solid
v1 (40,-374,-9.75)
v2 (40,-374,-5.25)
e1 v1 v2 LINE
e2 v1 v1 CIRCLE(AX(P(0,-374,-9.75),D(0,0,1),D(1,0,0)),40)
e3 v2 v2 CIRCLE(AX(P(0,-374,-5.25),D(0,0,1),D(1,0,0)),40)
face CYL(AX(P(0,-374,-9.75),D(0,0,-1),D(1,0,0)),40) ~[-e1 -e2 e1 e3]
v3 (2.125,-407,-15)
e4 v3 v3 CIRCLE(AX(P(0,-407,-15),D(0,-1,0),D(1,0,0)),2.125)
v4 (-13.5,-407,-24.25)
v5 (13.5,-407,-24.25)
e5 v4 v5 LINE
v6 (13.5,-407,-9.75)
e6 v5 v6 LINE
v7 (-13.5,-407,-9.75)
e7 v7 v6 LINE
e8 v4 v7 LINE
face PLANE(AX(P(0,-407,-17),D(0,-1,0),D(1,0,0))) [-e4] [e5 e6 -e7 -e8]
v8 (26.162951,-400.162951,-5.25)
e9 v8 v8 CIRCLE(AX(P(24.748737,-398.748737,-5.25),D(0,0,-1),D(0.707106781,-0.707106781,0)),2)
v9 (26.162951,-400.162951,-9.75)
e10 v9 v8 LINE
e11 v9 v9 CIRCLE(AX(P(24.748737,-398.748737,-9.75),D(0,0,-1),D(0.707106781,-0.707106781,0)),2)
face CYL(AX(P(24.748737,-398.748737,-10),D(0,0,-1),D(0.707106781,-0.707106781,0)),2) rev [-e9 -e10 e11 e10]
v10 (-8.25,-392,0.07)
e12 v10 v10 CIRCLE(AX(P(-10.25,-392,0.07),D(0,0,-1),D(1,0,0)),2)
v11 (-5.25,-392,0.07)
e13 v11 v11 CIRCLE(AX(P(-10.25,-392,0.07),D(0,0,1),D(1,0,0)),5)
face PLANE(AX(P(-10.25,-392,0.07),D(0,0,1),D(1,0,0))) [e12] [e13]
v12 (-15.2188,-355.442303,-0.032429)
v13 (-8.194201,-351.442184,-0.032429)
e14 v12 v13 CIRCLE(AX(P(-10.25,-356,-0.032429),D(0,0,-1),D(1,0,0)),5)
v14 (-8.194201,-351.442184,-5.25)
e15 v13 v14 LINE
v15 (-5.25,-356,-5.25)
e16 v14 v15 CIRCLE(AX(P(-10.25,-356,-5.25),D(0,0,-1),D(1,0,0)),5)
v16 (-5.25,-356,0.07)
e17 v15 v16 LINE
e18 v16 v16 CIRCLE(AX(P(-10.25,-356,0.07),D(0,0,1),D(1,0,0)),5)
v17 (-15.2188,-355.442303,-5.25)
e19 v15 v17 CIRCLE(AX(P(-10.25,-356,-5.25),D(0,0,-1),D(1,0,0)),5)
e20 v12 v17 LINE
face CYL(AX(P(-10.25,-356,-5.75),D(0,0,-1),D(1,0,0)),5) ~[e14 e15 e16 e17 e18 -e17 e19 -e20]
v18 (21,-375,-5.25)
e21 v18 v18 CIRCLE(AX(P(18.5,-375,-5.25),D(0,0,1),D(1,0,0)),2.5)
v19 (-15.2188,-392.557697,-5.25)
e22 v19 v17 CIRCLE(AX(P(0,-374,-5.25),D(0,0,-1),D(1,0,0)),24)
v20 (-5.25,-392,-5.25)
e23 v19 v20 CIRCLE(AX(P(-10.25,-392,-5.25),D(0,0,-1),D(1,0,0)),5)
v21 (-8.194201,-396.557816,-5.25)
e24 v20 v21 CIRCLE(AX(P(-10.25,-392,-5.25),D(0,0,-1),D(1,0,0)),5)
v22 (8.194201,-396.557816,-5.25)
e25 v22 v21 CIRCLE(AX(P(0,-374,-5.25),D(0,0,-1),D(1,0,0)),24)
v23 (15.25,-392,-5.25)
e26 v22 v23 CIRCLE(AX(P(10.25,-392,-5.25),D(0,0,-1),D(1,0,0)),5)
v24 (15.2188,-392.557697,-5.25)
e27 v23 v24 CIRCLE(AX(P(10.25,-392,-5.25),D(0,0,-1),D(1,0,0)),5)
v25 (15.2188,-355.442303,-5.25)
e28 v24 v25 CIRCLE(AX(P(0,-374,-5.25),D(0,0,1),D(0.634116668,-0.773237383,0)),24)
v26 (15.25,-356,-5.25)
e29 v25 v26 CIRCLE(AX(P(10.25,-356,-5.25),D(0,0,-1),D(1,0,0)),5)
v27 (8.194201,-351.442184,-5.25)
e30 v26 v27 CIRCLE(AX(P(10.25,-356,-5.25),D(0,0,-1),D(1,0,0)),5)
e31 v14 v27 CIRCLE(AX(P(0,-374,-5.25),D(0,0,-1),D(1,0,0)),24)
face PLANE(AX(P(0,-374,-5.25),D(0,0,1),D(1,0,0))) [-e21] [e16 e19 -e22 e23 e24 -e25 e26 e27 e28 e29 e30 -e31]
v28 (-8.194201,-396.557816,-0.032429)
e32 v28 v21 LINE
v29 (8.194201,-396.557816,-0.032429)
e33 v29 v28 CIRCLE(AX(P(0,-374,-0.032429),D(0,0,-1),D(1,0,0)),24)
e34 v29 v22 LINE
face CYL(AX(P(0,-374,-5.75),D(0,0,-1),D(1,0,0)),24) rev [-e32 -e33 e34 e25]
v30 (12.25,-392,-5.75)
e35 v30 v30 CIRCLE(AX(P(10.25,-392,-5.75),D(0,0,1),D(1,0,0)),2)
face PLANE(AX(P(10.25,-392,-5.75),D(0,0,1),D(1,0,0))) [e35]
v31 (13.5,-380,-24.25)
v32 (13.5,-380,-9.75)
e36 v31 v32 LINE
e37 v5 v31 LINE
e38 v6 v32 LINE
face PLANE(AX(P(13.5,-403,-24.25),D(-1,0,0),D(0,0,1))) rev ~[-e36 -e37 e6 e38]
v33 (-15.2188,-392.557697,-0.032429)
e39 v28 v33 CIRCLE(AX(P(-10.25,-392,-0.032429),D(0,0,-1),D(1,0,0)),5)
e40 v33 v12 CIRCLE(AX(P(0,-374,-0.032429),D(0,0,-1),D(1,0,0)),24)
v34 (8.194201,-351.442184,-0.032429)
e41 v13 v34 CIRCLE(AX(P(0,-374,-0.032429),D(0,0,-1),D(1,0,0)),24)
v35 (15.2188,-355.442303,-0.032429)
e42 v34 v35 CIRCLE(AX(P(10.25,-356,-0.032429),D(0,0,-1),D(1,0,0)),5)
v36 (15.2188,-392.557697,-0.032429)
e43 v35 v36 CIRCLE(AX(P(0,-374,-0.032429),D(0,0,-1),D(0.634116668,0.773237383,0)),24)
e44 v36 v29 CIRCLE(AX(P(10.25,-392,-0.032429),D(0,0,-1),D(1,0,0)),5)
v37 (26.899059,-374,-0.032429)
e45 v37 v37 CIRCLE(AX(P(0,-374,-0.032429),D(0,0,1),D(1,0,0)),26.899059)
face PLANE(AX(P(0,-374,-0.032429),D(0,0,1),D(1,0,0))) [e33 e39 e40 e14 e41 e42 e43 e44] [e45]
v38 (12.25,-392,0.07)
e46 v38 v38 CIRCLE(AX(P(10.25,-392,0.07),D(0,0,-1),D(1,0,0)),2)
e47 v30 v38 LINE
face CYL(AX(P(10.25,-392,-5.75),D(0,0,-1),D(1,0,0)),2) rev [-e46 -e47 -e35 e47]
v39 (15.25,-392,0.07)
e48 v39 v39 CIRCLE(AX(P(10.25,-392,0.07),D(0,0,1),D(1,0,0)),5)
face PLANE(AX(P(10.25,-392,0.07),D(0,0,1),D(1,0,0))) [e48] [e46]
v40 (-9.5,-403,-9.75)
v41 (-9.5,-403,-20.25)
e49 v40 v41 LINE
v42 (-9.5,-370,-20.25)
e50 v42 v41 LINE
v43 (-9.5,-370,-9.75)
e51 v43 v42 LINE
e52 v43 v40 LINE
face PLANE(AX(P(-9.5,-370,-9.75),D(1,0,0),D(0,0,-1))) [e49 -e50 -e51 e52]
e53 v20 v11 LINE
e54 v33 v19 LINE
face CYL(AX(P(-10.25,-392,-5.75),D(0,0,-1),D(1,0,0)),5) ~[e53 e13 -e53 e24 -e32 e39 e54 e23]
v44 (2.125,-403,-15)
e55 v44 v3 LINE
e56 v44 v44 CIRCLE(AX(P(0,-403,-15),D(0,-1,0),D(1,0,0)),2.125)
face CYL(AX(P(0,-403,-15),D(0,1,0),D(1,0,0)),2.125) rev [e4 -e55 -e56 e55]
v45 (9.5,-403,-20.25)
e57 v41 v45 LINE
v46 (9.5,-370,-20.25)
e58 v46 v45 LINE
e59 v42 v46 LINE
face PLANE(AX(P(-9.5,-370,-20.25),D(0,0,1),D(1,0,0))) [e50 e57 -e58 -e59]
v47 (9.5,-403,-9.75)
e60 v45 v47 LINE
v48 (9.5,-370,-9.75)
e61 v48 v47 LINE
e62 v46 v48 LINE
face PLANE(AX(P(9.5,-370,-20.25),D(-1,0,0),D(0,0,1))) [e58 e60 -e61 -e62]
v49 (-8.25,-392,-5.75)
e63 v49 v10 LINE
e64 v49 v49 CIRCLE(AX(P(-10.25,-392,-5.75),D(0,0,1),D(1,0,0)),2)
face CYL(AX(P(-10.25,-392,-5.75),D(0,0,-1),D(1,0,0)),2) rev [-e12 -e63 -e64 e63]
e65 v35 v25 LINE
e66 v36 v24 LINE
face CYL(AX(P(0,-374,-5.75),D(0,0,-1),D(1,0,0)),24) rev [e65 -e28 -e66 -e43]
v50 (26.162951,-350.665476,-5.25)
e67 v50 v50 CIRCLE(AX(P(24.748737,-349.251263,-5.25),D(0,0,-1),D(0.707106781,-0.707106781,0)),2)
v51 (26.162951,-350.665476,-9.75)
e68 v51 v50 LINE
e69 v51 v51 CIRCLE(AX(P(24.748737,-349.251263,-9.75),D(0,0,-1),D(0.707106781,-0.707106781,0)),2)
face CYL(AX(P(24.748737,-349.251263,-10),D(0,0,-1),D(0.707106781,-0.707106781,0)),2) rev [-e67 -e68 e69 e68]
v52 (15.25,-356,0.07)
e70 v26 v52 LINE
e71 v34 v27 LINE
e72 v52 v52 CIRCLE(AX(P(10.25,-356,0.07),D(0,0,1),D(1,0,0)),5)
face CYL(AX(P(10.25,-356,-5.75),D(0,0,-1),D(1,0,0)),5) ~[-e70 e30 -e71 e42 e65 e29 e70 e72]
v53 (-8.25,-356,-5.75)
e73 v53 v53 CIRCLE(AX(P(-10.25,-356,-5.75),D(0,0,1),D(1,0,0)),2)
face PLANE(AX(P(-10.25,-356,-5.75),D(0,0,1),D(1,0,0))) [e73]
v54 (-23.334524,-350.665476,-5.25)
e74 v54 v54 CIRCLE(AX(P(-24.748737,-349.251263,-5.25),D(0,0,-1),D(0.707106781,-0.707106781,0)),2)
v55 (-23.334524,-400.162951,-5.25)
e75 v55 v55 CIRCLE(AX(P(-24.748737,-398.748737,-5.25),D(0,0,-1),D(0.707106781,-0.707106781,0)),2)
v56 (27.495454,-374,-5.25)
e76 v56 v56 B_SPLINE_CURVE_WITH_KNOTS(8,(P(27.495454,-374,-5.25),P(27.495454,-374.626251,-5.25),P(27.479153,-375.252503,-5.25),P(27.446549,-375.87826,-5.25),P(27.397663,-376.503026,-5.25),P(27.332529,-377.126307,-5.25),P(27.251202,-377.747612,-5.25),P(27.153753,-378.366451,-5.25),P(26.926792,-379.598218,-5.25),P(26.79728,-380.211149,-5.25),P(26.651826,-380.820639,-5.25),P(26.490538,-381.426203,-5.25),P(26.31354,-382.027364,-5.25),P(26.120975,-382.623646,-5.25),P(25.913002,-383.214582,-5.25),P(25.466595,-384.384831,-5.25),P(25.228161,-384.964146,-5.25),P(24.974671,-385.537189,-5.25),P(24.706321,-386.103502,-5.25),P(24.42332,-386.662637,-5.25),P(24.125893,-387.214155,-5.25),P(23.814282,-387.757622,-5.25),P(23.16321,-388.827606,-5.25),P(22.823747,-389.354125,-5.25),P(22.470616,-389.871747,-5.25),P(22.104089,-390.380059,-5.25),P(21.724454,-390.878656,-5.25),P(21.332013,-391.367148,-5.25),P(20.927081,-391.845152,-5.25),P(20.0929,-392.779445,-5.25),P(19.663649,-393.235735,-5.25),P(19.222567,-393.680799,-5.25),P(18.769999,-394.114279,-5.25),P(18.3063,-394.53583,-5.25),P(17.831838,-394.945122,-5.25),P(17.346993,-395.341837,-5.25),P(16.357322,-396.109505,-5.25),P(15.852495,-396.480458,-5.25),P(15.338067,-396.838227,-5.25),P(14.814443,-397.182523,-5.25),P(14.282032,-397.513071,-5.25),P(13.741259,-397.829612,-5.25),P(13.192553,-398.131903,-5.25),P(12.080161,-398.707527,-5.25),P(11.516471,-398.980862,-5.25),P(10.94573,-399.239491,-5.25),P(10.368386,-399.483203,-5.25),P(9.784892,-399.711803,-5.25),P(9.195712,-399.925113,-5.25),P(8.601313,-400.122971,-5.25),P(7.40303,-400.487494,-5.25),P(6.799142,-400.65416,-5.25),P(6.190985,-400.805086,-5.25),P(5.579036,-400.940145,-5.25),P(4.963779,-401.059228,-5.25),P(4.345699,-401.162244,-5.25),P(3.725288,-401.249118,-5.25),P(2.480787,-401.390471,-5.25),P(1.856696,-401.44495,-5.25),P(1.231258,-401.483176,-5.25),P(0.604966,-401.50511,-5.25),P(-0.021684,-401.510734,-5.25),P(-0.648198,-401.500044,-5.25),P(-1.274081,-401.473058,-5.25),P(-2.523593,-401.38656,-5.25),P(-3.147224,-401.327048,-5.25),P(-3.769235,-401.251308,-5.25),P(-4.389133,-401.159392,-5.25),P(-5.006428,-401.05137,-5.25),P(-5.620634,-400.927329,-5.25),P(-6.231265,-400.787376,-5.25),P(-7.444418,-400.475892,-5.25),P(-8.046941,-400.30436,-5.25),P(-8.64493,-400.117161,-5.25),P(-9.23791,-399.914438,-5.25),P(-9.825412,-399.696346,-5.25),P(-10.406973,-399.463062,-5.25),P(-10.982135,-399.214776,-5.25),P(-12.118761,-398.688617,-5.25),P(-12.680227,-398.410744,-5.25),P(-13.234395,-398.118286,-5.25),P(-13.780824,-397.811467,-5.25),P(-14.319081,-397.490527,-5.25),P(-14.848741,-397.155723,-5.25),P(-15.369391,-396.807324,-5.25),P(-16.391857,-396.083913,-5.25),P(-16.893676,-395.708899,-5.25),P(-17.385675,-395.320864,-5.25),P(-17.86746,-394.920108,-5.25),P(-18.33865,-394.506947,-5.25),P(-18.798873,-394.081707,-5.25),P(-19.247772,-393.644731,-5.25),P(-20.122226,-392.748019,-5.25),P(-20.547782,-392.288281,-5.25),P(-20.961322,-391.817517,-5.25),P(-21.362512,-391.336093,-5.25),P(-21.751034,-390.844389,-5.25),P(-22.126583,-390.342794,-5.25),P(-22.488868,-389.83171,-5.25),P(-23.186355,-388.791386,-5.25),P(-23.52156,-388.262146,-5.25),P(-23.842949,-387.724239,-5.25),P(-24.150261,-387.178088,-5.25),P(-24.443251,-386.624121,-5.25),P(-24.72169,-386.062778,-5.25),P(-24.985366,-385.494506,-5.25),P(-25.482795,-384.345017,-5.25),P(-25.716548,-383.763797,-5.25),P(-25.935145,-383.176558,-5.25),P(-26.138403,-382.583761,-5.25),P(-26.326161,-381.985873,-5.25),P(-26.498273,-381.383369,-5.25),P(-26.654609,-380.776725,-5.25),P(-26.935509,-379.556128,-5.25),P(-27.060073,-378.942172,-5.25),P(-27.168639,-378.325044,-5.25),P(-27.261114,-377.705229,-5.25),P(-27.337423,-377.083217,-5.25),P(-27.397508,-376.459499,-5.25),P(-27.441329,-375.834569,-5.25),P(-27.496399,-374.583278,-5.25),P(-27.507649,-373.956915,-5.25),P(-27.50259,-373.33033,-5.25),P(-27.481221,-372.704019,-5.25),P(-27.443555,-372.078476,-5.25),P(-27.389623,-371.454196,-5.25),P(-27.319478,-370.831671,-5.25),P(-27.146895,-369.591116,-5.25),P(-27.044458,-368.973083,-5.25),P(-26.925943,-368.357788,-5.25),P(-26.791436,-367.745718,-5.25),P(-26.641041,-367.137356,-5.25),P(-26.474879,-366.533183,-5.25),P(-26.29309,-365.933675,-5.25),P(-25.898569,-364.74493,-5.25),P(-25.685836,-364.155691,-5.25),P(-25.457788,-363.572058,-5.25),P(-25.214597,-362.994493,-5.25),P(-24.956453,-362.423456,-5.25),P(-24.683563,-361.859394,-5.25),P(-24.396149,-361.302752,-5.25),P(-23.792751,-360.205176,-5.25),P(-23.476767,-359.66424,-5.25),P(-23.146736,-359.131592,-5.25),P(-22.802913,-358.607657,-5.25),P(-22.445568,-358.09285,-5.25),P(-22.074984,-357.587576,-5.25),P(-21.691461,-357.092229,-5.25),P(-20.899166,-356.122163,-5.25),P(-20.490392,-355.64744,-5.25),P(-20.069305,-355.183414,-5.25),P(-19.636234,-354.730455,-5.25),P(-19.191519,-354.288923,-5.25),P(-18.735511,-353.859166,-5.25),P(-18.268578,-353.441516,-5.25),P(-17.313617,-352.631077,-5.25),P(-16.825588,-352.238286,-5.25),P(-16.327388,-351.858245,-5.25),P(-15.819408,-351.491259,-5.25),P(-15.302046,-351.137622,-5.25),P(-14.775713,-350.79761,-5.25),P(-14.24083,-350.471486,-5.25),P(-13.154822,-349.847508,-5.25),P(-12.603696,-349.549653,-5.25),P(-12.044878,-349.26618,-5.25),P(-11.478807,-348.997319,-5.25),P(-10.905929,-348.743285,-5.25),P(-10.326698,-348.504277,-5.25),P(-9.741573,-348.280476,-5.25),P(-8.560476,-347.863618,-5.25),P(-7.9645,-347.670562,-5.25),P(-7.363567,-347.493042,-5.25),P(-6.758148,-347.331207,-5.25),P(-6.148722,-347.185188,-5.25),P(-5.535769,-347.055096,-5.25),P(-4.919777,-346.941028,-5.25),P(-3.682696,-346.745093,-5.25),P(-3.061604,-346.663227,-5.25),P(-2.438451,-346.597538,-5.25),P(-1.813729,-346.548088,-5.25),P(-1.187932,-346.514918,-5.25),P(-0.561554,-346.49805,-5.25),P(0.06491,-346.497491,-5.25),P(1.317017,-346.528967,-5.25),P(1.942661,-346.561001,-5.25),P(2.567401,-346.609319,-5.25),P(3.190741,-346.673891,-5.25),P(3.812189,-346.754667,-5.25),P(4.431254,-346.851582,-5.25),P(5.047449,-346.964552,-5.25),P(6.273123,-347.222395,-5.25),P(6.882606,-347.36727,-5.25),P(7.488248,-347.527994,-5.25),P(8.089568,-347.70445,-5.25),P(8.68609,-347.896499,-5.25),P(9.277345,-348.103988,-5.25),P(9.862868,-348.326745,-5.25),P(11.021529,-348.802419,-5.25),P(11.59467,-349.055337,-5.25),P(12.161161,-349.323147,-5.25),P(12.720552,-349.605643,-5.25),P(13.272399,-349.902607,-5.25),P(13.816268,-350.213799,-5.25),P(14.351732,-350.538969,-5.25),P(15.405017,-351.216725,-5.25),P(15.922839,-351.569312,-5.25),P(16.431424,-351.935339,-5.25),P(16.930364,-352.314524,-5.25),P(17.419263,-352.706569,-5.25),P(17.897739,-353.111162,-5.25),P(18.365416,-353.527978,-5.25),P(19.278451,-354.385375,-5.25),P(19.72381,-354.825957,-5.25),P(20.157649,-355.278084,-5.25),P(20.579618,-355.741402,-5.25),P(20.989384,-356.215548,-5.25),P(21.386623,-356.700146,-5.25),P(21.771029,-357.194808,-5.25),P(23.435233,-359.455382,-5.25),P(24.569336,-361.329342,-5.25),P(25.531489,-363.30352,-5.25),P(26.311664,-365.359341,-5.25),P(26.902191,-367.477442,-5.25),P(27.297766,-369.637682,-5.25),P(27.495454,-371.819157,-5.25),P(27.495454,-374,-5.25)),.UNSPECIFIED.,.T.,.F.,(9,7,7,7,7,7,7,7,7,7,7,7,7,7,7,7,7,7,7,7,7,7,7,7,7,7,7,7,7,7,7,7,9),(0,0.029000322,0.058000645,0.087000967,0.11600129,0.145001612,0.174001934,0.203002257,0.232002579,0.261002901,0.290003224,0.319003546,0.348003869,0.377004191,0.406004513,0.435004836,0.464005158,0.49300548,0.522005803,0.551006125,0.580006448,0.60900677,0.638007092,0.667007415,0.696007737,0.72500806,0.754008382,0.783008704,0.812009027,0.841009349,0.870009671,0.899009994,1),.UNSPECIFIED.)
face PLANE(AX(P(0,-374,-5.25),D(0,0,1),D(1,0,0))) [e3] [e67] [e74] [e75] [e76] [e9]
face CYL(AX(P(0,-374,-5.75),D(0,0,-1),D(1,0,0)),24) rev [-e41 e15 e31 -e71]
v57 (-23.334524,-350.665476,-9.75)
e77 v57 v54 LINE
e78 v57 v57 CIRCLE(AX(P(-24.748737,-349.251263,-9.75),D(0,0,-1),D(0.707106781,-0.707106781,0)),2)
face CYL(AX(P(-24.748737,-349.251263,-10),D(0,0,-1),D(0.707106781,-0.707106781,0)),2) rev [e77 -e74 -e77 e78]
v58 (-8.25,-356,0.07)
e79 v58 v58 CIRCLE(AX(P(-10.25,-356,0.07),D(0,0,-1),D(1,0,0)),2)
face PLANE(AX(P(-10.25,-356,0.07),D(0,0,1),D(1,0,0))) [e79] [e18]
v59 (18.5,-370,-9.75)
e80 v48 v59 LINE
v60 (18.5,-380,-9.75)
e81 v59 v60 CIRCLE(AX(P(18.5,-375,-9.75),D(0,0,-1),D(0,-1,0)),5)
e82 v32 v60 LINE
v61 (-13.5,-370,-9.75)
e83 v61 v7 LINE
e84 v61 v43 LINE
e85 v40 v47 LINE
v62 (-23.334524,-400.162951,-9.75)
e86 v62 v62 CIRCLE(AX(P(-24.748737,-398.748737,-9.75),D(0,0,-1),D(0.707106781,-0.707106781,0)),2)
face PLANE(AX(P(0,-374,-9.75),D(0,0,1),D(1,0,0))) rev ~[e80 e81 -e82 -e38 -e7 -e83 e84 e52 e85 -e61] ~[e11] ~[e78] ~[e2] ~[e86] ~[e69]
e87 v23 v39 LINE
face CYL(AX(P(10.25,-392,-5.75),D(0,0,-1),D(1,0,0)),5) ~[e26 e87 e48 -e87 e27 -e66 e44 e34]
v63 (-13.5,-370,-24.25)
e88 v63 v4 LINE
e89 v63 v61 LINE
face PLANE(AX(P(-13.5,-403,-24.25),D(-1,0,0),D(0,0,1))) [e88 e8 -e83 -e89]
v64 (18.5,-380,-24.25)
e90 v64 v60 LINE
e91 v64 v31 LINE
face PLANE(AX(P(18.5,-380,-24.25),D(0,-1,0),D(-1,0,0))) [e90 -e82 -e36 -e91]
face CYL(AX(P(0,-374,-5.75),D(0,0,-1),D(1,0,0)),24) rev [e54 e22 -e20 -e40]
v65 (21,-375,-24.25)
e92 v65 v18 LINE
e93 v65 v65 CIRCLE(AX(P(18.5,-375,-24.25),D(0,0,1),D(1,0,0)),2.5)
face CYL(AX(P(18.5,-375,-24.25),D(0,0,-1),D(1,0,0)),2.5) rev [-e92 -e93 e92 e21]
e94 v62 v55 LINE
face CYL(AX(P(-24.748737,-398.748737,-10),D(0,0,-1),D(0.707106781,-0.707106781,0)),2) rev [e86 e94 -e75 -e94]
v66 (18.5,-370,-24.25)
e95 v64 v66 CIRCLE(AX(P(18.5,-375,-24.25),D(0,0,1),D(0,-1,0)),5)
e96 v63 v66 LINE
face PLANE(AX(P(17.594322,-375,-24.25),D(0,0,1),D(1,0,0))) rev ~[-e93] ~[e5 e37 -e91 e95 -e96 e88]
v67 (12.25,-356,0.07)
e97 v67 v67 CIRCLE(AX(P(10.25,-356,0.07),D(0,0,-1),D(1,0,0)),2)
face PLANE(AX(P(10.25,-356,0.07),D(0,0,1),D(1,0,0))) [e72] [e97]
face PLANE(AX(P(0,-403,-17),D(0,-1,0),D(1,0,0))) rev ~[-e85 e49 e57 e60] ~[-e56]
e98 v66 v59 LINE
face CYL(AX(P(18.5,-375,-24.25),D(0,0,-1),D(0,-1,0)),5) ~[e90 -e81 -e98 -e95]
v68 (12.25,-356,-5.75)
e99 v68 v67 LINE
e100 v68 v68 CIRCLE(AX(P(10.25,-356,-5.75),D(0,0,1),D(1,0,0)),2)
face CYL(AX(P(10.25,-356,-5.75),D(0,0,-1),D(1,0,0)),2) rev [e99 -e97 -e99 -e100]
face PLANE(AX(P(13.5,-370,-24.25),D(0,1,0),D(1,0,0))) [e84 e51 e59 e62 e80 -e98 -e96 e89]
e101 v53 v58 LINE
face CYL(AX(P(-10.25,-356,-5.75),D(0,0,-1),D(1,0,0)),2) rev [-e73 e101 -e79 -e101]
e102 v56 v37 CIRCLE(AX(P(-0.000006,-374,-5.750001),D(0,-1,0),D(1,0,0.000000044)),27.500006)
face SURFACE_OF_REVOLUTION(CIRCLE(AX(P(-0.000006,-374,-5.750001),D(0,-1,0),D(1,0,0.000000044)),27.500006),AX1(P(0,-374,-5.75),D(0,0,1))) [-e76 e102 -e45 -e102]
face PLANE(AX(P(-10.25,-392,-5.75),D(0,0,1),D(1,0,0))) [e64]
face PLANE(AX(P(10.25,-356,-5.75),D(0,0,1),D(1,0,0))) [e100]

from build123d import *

# Parameters (mm, degrees)
SKETCH142_R               = 2.5
EXTRUDE046_DEPTH          = 19
EXTRUDE047_DEPTH          = 19
CYLINDER185_R             = 2
CYLINDER185_DEPTH         = 10
CYLINDER186_R             = 2
CYLINDER186_DEPTH         = 10
CYLINDER187_R             = 2
CYLINDER187_DEPTH         = 10
CYLINDER184_R             = 2
CYLINDER184_DEPTH         = 10
FUSION121_PLACEMENT_ANGLE = 45
CYLINDER180_R             = 2
CYLINDER180_DEPTH         = 10
CYLINDER181_R             = 2
CYLINDER181_DEPTH         = 10
CYLINDER182_R             = 2
CYLINDER182_DEPTH         = 10
CYLINDER183_R             = 2
CYLINDER183_DEPTH         = 10
CYLINDER170_R             = 2
CYLINDER170_DEPTH         = 10
CYLINDER171_R             = 2
CYLINDER171_DEPTH         = 10
CYLINDER172_R             = 2
CYLINDER172_DEPTH         = 10
CYLINDER169_R             = 2
CYLINDER169_DEPTH         = 10
FUSION111_PLACEMENT_ANGLE = 45
CYLINDER176_R             = 5
CYLINDER176_DEPTH         = 5.82
CYLINDER177_R             = 5
CYLINDER177_DEPTH         = 5.82
CYLINDER178_R             = 5
CYLINDER178_DEPTH         = 5.82
CYLINDER179_R             = 5
CYLINDER179_DEPTH         = 5.82
CYLINDER173_R             = 40
CYLINDER173_DEPTH         = 4.5
CYLINDER174_R             = 24
CYLINDER174_DEPTH         = 7
EXTRUDE044_DEPTH          = 33
SKETCH141_W               = 27
SKETCH141_H               = 14.5
SKETCH141_R               = 2.125
EXTRUDE045_DEPTH          = 4


with BuildPart() as lightwire:
    # Sketch142 → Extrude046 (new body)
    with BuildSketch(Plane.XY.offset(-24.25)):
        with Locations((18.5, -375)):
            Circle(SKETCH142_R)
    extrude(amount=EXTRUDE046_DEPTH)


with BuildPart() as extrude047:
    # Sketch143 → Extrude047 (new body)
    with BuildSketch(Plane.XY.offset(-24.25)):
        with BuildLine():
            ThreePointArc((18.5, -380), (23.5, -375), (18.5, -370))
            Line((13.5, -370), (18.5, -370))
            Line((13.5, -380), (13.5, -370))
            Line((18.5, -380), (13.5, -380))
        make_face()
    extrude(amount=EXTRUDE047_DEPTH)


with BuildPart() as m2heatsetinsets025:
    # Cylinder185 → Cylinder185 (new body)
    with BuildSketch(Plane(origin=(35, 0, 65), x_dir=(1, 0, 0), z_dir=(0, 0, 1))):
        Circle(CYLINDER185_R)
    extrude(amount=CYLINDER185_DEPTH)


with BuildPart() as m2heatsetinsets026:
    # Cylinder186 → Cylinder186 (new body)
    with BuildSketch(Plane(origin=(0, 35, 65), x_dir=(1, 0, 0), z_dir=(0, 0, 1))):
        Circle(CYLINDER186_R)
    extrude(amount=CYLINDER186_DEPTH)


with BuildPart() as m2heatsetinsets027:
    # Cylinder187 → Cylinder187 (new body)
    with BuildSketch(Plane(origin=(0, -35, 65), x_dir=(1, 0, 0), z_dir=(0, 0, 1))):
        Circle(CYLINDER187_R)
    extrude(amount=CYLINDER187_DEPTH)


with BuildPart() as fusion121:
    # Cylinder184 → Cylinder184 (new body)
    with BuildSketch(Plane(origin=(-35, 0, 65), x_dir=(1, 0, 0), z_dir=(0, 0, 1))):
        Circle(CYLINDER184_R)
    extrude(amount=CYLINDER184_DEPTH)

    # Fusion121: union m2HeatSetInsets025, m2HeatSetInsets026, m2HeatSetInsets027
    add(m2heatsetinsets025.part)
    add(m2heatsetinsets026.part)
    add(m2heatsetinsets027.part)


with BuildPart() as fusion121_1:
    # Fusion121 placement: moved
    add(fusion121.part.moved(Location((0, -374, -75))).rotate(Axis((0, -374, -75), (0, 0, -1)), FUSION121_PLACEMENT_ANGLE))


with BuildPart() as cylinder180:
    # Cylinder180 → Cylinder180 (new body)
    with BuildSketch(Plane(origin=(0, -21, 0), x_dir=(1, 0, 0), z_dir=(0, 0, 1))):
        Circle(CYLINDER180_R)
    extrude(amount=CYLINDER180_DEPTH)


with BuildPart() as m3heatsetcuts031:
    # Cylinder181 → Cylinder181 (new body)
    with BuildSketch(Plane(origin=(20.5, -21, 0), x_dir=(1, 0, 0), z_dir=(0, 0, 1))):
        Circle(CYLINDER181_R)
    extrude(amount=CYLINDER181_DEPTH)

    # Fusion118: union Cylinder180
    add(cylinder180.part)


with BuildPart() as m3heatsetcuts031_1:
    # Fusion118 placement: moved
    add(m3heatsetcuts031.part.moved(Location((-5, 39, 70))))


with BuildPart() as cylinder182:
    # Cylinder182 → Cylinder182 (new body)
    with BuildSketch(Plane(origin=(0, -21, 0), x_dir=(1, 0, 0), z_dir=(0, 0, 1))):
        Circle(CYLINDER182_R)
    extrude(amount=CYLINDER182_DEPTH)


with BuildPart() as m3heatsetcuts030:
    # Cylinder183 → Cylinder183 (new body)
    with BuildSketch(Plane(origin=(20.5, -21, 0), x_dir=(1, 0, 0), z_dir=(0, 0, 1))):
        Circle(CYLINDER183_R)
    extrude(amount=CYLINDER183_DEPTH)

    # Fusion119: union Cylinder182
    add(cylinder182.part)


with BuildPart() as m3heatsetcuts030_1:
    # Fusion119 placement: moved
    add(m3heatsetcuts030.part.moved(Location((-5, 3, 70))))

    # Fusion117: union m3HeatSetCuts031
    add(m3heatsetcuts031_1.part)


with BuildPart() as m3heatsetcuts030_2:
    # Fusion117 placement: moved
    add(m3heatsetcuts030_1.part.moved(Location((128.75, 10, -1))))


with BuildPart() as m2heatsetinsets021:
    # Cylinder170 → Cylinder170 (new body)
    with BuildSketch(Plane(origin=(35, 0, 65), x_dir=(1, 0, 0), z_dir=(0, 0, 1))):
        Circle(CYLINDER170_R)
    extrude(amount=CYLINDER170_DEPTH)


with BuildPart() as m2heatsetinsets022:
    # Cylinder171 → Cylinder171 (new body)
    with BuildSketch(Plane(origin=(0, 35, 65), x_dir=(1, 0, 0), z_dir=(0, 0, 1))):
        Circle(CYLINDER171_R)
    extrude(amount=CYLINDER171_DEPTH)


with BuildPart() as m2heatsetinsets023:
    # Cylinder172 → Cylinder172 (new body)
    with BuildSketch(Plane(origin=(0, -35, 65), x_dir=(1, 0, 0), z_dir=(0, 0, 1))):
        Circle(CYLINDER172_R)
    extrude(amount=CYLINDER172_DEPTH)


with BuildPart() as fusion120:
    # Cylinder169 → Cylinder169 (new body)
    with BuildSketch(Plane(origin=(-35, 0, 65), x_dir=(1, 0, 0), z_dir=(0, 0, 1))):
        Circle(CYLINDER169_R)
    extrude(amount=CYLINDER169_DEPTH)

    # Fusion111: union m2HeatSetInsets021, m2HeatSetInsets022, m2HeatSetInsets023
    add(m2heatsetinsets021.part)
    add(m2heatsetinsets022.part)
    add(m2heatsetinsets023.part)


with BuildPart() as fusion120_1:
    # Fusion111 placement: moved
    add(fusion120.part.moved(Location((0, -374, -75))).rotate(Axis((0, -374, -75), (0, 0, -1)), FUSION111_PLACEMENT_ANGLE))

    # Fusion120: union m3HeatSetCuts030
    add(m3heatsetcuts030_2.part)


with BuildPart() as cylinder176:
    # Cylinder176 → Cylinder176 (new body)
    with BuildSketch(Plane(origin=(0, -21, 0), x_dir=(1, 0, 0), z_dir=(0, 0, 1))):
        Circle(CYLINDER176_R)
    extrude(amount=CYLINDER176_DEPTH)


with BuildPart() as m3heatsetcuts027:
    # Cylinder177 → Cylinder177 (new body)
    with BuildSketch(Plane(origin=(20.5, -21, 0), x_dir=(1, 0, 0), z_dir=(0, 0, 1))):
        Circle(CYLINDER177_R)
    extrude(amount=CYLINDER177_DEPTH)

    # Fusion112: union Cylinder176
    add(cylinder176.part)


with BuildPart() as m3heatsetcuts027_1:
    # Fusion112 placement: moved
    add(m3heatsetcuts027.part.moved(Location((-5, 39, 70))))


with BuildPart() as cylinder178:
    # Cylinder178 → Cylinder178 (new body)
    with BuildSketch(Plane(origin=(0, -21, 0), x_dir=(1, 0, 0), z_dir=(0, 0, 1))):
        Circle(CYLINDER178_R)
    extrude(amount=CYLINDER178_DEPTH)


with BuildPart() as m3heatsetcuts029:
    # Cylinder179 → Cylinder179 (new body)
    with BuildSketch(Plane(origin=(20.5, -21, 0), x_dir=(1, 0, 0), z_dir=(0, 0, 1))):
        Circle(CYLINDER179_R)
    extrude(amount=CYLINDER179_DEPTH)

    # Fusion113: union Cylinder178
    add(cylinder178.part)


with BuildPart() as m3heatsetcuts029_1:
    # Fusion113 placement: moved
    add(m3heatsetcuts029.part.moved(Location((-5, 3, 70))))

    # Fusion114: union m3HeatSetCuts027
    add(m3heatsetcuts027_1.part)


with BuildPart() as m3heatsetcuts029_2:
    # Fusion114 placement: moved
    add(m3heatsetcuts029_1.part.moved(Location((128.75, 10, -1))))


with BuildPart() as base015:
    # Cylinder173 → Cylinder173 (new body)
    with BuildSketch(Plane(origin=(136, 0, 65), x_dir=(1, 0, 0), z_dir=(0, 0, 1))):
        Circle(CYLINDER173_R)
    extrude(amount=CYLINDER173_DEPTH)


with BuildPart() as basecut004:
    # Cylinder174 → Cylinder174 (new body)
    with BuildSketch(Plane(origin=(5, 0, 74), x_dir=(1, 0, 0), z_dir=(0, 0, 1))):
        Circle(CYLINDER174_R)
    extrude(amount=CYLINDER174_DEPTH)


with BuildPart() as lightmodule:
    # Sphere006 → Sphere006 (revolve)
    with BuildSketch(Plane(origin=(5, 0, 74), x_dir=(1, 0, 0), z_dir=(0, -1, 0))):
        with BuildLine():
            ThreePointArc((27.5, 0), (27.349352, 2.874533), (26.899059, 5.717571))
            Line((26.899059, 5.717571), (0, 5.717571))
            Line((0, 5.717571), (0, 0))
            Line((0, 0), (27.5, 0))
        make_face()
    revolve(axis=Axis((5, 0, 74), (0, 0, 1)))

    # Cut058: cut baseCut004
    add(basecut004.part, mode=Mode.SUBTRACT)


with BuildPart() as lightmodule_1:
    # Cut058 placement: moved
    add(lightmodule.part.moved(Location((131, 0, -5))))

    # Fusion115: union base015
    add(base015.part)


with BuildPart() as lightmodule_2:
    # Fusion115 placement: moved
    add(lightmodule_1.part.moved(Location((-2, 10, 0))))

    # Fusion116: union m3HeatSetCuts029
    add(m3heatsetcuts029_2.part)

    # Cut059: cut Fusion120
    add(fusion120_1.part, mode=Mode.SUBTRACT)


with BuildPart() as lightmodule_3:
    # Cut059 placement: moved
    add(lightmodule_2.part.moved(Location((-134, -384, -74.75))))

    # Cut060: cut Fusion121
    add(fusion121_1.part, mode=Mode.SUBTRACT)


with BuildPart() as extrude044:
    # Sketch140 → Extrude044 (new body)
    with BuildSketch(Plane.XZ.offset(370)):
        Polygon((-13.5, -9.75), (-9.5, -9.75), (-9.5, -20.25), (9.5, -20.25), (9.5, -9.75), (13.5, -9.75), (13.5, -24.25), (-13.5, -24.25), align=None)
    extrude(amount=EXTRUDE044_DEPTH)


with BuildPart() as lightmodule015:
    # Sketch141 → Extrude045 (new body)
    with BuildSketch(Plane.XZ.offset(403)):
        with Locations((0, -17)):
            Rectangle(SKETCH141_W, SKETCH141_H)
        with Locations((0, -15)):
            Circle(SKETCH141_R, mode=Mode.SUBTRACT)
    extrude(amount=EXTRUDE045_DEPTH)

    # Fusion122: union lightModule, Extrude044
    add(lightmodule_3.part)
    add(extrude044.part)

    # Fusion123: union Extrude047
    add(extrude047.part)

    # Cut061: cut lightWire
    add(lightwire.part, mode=Mode.SUBTRACT)


solid = lightmodule015.part
